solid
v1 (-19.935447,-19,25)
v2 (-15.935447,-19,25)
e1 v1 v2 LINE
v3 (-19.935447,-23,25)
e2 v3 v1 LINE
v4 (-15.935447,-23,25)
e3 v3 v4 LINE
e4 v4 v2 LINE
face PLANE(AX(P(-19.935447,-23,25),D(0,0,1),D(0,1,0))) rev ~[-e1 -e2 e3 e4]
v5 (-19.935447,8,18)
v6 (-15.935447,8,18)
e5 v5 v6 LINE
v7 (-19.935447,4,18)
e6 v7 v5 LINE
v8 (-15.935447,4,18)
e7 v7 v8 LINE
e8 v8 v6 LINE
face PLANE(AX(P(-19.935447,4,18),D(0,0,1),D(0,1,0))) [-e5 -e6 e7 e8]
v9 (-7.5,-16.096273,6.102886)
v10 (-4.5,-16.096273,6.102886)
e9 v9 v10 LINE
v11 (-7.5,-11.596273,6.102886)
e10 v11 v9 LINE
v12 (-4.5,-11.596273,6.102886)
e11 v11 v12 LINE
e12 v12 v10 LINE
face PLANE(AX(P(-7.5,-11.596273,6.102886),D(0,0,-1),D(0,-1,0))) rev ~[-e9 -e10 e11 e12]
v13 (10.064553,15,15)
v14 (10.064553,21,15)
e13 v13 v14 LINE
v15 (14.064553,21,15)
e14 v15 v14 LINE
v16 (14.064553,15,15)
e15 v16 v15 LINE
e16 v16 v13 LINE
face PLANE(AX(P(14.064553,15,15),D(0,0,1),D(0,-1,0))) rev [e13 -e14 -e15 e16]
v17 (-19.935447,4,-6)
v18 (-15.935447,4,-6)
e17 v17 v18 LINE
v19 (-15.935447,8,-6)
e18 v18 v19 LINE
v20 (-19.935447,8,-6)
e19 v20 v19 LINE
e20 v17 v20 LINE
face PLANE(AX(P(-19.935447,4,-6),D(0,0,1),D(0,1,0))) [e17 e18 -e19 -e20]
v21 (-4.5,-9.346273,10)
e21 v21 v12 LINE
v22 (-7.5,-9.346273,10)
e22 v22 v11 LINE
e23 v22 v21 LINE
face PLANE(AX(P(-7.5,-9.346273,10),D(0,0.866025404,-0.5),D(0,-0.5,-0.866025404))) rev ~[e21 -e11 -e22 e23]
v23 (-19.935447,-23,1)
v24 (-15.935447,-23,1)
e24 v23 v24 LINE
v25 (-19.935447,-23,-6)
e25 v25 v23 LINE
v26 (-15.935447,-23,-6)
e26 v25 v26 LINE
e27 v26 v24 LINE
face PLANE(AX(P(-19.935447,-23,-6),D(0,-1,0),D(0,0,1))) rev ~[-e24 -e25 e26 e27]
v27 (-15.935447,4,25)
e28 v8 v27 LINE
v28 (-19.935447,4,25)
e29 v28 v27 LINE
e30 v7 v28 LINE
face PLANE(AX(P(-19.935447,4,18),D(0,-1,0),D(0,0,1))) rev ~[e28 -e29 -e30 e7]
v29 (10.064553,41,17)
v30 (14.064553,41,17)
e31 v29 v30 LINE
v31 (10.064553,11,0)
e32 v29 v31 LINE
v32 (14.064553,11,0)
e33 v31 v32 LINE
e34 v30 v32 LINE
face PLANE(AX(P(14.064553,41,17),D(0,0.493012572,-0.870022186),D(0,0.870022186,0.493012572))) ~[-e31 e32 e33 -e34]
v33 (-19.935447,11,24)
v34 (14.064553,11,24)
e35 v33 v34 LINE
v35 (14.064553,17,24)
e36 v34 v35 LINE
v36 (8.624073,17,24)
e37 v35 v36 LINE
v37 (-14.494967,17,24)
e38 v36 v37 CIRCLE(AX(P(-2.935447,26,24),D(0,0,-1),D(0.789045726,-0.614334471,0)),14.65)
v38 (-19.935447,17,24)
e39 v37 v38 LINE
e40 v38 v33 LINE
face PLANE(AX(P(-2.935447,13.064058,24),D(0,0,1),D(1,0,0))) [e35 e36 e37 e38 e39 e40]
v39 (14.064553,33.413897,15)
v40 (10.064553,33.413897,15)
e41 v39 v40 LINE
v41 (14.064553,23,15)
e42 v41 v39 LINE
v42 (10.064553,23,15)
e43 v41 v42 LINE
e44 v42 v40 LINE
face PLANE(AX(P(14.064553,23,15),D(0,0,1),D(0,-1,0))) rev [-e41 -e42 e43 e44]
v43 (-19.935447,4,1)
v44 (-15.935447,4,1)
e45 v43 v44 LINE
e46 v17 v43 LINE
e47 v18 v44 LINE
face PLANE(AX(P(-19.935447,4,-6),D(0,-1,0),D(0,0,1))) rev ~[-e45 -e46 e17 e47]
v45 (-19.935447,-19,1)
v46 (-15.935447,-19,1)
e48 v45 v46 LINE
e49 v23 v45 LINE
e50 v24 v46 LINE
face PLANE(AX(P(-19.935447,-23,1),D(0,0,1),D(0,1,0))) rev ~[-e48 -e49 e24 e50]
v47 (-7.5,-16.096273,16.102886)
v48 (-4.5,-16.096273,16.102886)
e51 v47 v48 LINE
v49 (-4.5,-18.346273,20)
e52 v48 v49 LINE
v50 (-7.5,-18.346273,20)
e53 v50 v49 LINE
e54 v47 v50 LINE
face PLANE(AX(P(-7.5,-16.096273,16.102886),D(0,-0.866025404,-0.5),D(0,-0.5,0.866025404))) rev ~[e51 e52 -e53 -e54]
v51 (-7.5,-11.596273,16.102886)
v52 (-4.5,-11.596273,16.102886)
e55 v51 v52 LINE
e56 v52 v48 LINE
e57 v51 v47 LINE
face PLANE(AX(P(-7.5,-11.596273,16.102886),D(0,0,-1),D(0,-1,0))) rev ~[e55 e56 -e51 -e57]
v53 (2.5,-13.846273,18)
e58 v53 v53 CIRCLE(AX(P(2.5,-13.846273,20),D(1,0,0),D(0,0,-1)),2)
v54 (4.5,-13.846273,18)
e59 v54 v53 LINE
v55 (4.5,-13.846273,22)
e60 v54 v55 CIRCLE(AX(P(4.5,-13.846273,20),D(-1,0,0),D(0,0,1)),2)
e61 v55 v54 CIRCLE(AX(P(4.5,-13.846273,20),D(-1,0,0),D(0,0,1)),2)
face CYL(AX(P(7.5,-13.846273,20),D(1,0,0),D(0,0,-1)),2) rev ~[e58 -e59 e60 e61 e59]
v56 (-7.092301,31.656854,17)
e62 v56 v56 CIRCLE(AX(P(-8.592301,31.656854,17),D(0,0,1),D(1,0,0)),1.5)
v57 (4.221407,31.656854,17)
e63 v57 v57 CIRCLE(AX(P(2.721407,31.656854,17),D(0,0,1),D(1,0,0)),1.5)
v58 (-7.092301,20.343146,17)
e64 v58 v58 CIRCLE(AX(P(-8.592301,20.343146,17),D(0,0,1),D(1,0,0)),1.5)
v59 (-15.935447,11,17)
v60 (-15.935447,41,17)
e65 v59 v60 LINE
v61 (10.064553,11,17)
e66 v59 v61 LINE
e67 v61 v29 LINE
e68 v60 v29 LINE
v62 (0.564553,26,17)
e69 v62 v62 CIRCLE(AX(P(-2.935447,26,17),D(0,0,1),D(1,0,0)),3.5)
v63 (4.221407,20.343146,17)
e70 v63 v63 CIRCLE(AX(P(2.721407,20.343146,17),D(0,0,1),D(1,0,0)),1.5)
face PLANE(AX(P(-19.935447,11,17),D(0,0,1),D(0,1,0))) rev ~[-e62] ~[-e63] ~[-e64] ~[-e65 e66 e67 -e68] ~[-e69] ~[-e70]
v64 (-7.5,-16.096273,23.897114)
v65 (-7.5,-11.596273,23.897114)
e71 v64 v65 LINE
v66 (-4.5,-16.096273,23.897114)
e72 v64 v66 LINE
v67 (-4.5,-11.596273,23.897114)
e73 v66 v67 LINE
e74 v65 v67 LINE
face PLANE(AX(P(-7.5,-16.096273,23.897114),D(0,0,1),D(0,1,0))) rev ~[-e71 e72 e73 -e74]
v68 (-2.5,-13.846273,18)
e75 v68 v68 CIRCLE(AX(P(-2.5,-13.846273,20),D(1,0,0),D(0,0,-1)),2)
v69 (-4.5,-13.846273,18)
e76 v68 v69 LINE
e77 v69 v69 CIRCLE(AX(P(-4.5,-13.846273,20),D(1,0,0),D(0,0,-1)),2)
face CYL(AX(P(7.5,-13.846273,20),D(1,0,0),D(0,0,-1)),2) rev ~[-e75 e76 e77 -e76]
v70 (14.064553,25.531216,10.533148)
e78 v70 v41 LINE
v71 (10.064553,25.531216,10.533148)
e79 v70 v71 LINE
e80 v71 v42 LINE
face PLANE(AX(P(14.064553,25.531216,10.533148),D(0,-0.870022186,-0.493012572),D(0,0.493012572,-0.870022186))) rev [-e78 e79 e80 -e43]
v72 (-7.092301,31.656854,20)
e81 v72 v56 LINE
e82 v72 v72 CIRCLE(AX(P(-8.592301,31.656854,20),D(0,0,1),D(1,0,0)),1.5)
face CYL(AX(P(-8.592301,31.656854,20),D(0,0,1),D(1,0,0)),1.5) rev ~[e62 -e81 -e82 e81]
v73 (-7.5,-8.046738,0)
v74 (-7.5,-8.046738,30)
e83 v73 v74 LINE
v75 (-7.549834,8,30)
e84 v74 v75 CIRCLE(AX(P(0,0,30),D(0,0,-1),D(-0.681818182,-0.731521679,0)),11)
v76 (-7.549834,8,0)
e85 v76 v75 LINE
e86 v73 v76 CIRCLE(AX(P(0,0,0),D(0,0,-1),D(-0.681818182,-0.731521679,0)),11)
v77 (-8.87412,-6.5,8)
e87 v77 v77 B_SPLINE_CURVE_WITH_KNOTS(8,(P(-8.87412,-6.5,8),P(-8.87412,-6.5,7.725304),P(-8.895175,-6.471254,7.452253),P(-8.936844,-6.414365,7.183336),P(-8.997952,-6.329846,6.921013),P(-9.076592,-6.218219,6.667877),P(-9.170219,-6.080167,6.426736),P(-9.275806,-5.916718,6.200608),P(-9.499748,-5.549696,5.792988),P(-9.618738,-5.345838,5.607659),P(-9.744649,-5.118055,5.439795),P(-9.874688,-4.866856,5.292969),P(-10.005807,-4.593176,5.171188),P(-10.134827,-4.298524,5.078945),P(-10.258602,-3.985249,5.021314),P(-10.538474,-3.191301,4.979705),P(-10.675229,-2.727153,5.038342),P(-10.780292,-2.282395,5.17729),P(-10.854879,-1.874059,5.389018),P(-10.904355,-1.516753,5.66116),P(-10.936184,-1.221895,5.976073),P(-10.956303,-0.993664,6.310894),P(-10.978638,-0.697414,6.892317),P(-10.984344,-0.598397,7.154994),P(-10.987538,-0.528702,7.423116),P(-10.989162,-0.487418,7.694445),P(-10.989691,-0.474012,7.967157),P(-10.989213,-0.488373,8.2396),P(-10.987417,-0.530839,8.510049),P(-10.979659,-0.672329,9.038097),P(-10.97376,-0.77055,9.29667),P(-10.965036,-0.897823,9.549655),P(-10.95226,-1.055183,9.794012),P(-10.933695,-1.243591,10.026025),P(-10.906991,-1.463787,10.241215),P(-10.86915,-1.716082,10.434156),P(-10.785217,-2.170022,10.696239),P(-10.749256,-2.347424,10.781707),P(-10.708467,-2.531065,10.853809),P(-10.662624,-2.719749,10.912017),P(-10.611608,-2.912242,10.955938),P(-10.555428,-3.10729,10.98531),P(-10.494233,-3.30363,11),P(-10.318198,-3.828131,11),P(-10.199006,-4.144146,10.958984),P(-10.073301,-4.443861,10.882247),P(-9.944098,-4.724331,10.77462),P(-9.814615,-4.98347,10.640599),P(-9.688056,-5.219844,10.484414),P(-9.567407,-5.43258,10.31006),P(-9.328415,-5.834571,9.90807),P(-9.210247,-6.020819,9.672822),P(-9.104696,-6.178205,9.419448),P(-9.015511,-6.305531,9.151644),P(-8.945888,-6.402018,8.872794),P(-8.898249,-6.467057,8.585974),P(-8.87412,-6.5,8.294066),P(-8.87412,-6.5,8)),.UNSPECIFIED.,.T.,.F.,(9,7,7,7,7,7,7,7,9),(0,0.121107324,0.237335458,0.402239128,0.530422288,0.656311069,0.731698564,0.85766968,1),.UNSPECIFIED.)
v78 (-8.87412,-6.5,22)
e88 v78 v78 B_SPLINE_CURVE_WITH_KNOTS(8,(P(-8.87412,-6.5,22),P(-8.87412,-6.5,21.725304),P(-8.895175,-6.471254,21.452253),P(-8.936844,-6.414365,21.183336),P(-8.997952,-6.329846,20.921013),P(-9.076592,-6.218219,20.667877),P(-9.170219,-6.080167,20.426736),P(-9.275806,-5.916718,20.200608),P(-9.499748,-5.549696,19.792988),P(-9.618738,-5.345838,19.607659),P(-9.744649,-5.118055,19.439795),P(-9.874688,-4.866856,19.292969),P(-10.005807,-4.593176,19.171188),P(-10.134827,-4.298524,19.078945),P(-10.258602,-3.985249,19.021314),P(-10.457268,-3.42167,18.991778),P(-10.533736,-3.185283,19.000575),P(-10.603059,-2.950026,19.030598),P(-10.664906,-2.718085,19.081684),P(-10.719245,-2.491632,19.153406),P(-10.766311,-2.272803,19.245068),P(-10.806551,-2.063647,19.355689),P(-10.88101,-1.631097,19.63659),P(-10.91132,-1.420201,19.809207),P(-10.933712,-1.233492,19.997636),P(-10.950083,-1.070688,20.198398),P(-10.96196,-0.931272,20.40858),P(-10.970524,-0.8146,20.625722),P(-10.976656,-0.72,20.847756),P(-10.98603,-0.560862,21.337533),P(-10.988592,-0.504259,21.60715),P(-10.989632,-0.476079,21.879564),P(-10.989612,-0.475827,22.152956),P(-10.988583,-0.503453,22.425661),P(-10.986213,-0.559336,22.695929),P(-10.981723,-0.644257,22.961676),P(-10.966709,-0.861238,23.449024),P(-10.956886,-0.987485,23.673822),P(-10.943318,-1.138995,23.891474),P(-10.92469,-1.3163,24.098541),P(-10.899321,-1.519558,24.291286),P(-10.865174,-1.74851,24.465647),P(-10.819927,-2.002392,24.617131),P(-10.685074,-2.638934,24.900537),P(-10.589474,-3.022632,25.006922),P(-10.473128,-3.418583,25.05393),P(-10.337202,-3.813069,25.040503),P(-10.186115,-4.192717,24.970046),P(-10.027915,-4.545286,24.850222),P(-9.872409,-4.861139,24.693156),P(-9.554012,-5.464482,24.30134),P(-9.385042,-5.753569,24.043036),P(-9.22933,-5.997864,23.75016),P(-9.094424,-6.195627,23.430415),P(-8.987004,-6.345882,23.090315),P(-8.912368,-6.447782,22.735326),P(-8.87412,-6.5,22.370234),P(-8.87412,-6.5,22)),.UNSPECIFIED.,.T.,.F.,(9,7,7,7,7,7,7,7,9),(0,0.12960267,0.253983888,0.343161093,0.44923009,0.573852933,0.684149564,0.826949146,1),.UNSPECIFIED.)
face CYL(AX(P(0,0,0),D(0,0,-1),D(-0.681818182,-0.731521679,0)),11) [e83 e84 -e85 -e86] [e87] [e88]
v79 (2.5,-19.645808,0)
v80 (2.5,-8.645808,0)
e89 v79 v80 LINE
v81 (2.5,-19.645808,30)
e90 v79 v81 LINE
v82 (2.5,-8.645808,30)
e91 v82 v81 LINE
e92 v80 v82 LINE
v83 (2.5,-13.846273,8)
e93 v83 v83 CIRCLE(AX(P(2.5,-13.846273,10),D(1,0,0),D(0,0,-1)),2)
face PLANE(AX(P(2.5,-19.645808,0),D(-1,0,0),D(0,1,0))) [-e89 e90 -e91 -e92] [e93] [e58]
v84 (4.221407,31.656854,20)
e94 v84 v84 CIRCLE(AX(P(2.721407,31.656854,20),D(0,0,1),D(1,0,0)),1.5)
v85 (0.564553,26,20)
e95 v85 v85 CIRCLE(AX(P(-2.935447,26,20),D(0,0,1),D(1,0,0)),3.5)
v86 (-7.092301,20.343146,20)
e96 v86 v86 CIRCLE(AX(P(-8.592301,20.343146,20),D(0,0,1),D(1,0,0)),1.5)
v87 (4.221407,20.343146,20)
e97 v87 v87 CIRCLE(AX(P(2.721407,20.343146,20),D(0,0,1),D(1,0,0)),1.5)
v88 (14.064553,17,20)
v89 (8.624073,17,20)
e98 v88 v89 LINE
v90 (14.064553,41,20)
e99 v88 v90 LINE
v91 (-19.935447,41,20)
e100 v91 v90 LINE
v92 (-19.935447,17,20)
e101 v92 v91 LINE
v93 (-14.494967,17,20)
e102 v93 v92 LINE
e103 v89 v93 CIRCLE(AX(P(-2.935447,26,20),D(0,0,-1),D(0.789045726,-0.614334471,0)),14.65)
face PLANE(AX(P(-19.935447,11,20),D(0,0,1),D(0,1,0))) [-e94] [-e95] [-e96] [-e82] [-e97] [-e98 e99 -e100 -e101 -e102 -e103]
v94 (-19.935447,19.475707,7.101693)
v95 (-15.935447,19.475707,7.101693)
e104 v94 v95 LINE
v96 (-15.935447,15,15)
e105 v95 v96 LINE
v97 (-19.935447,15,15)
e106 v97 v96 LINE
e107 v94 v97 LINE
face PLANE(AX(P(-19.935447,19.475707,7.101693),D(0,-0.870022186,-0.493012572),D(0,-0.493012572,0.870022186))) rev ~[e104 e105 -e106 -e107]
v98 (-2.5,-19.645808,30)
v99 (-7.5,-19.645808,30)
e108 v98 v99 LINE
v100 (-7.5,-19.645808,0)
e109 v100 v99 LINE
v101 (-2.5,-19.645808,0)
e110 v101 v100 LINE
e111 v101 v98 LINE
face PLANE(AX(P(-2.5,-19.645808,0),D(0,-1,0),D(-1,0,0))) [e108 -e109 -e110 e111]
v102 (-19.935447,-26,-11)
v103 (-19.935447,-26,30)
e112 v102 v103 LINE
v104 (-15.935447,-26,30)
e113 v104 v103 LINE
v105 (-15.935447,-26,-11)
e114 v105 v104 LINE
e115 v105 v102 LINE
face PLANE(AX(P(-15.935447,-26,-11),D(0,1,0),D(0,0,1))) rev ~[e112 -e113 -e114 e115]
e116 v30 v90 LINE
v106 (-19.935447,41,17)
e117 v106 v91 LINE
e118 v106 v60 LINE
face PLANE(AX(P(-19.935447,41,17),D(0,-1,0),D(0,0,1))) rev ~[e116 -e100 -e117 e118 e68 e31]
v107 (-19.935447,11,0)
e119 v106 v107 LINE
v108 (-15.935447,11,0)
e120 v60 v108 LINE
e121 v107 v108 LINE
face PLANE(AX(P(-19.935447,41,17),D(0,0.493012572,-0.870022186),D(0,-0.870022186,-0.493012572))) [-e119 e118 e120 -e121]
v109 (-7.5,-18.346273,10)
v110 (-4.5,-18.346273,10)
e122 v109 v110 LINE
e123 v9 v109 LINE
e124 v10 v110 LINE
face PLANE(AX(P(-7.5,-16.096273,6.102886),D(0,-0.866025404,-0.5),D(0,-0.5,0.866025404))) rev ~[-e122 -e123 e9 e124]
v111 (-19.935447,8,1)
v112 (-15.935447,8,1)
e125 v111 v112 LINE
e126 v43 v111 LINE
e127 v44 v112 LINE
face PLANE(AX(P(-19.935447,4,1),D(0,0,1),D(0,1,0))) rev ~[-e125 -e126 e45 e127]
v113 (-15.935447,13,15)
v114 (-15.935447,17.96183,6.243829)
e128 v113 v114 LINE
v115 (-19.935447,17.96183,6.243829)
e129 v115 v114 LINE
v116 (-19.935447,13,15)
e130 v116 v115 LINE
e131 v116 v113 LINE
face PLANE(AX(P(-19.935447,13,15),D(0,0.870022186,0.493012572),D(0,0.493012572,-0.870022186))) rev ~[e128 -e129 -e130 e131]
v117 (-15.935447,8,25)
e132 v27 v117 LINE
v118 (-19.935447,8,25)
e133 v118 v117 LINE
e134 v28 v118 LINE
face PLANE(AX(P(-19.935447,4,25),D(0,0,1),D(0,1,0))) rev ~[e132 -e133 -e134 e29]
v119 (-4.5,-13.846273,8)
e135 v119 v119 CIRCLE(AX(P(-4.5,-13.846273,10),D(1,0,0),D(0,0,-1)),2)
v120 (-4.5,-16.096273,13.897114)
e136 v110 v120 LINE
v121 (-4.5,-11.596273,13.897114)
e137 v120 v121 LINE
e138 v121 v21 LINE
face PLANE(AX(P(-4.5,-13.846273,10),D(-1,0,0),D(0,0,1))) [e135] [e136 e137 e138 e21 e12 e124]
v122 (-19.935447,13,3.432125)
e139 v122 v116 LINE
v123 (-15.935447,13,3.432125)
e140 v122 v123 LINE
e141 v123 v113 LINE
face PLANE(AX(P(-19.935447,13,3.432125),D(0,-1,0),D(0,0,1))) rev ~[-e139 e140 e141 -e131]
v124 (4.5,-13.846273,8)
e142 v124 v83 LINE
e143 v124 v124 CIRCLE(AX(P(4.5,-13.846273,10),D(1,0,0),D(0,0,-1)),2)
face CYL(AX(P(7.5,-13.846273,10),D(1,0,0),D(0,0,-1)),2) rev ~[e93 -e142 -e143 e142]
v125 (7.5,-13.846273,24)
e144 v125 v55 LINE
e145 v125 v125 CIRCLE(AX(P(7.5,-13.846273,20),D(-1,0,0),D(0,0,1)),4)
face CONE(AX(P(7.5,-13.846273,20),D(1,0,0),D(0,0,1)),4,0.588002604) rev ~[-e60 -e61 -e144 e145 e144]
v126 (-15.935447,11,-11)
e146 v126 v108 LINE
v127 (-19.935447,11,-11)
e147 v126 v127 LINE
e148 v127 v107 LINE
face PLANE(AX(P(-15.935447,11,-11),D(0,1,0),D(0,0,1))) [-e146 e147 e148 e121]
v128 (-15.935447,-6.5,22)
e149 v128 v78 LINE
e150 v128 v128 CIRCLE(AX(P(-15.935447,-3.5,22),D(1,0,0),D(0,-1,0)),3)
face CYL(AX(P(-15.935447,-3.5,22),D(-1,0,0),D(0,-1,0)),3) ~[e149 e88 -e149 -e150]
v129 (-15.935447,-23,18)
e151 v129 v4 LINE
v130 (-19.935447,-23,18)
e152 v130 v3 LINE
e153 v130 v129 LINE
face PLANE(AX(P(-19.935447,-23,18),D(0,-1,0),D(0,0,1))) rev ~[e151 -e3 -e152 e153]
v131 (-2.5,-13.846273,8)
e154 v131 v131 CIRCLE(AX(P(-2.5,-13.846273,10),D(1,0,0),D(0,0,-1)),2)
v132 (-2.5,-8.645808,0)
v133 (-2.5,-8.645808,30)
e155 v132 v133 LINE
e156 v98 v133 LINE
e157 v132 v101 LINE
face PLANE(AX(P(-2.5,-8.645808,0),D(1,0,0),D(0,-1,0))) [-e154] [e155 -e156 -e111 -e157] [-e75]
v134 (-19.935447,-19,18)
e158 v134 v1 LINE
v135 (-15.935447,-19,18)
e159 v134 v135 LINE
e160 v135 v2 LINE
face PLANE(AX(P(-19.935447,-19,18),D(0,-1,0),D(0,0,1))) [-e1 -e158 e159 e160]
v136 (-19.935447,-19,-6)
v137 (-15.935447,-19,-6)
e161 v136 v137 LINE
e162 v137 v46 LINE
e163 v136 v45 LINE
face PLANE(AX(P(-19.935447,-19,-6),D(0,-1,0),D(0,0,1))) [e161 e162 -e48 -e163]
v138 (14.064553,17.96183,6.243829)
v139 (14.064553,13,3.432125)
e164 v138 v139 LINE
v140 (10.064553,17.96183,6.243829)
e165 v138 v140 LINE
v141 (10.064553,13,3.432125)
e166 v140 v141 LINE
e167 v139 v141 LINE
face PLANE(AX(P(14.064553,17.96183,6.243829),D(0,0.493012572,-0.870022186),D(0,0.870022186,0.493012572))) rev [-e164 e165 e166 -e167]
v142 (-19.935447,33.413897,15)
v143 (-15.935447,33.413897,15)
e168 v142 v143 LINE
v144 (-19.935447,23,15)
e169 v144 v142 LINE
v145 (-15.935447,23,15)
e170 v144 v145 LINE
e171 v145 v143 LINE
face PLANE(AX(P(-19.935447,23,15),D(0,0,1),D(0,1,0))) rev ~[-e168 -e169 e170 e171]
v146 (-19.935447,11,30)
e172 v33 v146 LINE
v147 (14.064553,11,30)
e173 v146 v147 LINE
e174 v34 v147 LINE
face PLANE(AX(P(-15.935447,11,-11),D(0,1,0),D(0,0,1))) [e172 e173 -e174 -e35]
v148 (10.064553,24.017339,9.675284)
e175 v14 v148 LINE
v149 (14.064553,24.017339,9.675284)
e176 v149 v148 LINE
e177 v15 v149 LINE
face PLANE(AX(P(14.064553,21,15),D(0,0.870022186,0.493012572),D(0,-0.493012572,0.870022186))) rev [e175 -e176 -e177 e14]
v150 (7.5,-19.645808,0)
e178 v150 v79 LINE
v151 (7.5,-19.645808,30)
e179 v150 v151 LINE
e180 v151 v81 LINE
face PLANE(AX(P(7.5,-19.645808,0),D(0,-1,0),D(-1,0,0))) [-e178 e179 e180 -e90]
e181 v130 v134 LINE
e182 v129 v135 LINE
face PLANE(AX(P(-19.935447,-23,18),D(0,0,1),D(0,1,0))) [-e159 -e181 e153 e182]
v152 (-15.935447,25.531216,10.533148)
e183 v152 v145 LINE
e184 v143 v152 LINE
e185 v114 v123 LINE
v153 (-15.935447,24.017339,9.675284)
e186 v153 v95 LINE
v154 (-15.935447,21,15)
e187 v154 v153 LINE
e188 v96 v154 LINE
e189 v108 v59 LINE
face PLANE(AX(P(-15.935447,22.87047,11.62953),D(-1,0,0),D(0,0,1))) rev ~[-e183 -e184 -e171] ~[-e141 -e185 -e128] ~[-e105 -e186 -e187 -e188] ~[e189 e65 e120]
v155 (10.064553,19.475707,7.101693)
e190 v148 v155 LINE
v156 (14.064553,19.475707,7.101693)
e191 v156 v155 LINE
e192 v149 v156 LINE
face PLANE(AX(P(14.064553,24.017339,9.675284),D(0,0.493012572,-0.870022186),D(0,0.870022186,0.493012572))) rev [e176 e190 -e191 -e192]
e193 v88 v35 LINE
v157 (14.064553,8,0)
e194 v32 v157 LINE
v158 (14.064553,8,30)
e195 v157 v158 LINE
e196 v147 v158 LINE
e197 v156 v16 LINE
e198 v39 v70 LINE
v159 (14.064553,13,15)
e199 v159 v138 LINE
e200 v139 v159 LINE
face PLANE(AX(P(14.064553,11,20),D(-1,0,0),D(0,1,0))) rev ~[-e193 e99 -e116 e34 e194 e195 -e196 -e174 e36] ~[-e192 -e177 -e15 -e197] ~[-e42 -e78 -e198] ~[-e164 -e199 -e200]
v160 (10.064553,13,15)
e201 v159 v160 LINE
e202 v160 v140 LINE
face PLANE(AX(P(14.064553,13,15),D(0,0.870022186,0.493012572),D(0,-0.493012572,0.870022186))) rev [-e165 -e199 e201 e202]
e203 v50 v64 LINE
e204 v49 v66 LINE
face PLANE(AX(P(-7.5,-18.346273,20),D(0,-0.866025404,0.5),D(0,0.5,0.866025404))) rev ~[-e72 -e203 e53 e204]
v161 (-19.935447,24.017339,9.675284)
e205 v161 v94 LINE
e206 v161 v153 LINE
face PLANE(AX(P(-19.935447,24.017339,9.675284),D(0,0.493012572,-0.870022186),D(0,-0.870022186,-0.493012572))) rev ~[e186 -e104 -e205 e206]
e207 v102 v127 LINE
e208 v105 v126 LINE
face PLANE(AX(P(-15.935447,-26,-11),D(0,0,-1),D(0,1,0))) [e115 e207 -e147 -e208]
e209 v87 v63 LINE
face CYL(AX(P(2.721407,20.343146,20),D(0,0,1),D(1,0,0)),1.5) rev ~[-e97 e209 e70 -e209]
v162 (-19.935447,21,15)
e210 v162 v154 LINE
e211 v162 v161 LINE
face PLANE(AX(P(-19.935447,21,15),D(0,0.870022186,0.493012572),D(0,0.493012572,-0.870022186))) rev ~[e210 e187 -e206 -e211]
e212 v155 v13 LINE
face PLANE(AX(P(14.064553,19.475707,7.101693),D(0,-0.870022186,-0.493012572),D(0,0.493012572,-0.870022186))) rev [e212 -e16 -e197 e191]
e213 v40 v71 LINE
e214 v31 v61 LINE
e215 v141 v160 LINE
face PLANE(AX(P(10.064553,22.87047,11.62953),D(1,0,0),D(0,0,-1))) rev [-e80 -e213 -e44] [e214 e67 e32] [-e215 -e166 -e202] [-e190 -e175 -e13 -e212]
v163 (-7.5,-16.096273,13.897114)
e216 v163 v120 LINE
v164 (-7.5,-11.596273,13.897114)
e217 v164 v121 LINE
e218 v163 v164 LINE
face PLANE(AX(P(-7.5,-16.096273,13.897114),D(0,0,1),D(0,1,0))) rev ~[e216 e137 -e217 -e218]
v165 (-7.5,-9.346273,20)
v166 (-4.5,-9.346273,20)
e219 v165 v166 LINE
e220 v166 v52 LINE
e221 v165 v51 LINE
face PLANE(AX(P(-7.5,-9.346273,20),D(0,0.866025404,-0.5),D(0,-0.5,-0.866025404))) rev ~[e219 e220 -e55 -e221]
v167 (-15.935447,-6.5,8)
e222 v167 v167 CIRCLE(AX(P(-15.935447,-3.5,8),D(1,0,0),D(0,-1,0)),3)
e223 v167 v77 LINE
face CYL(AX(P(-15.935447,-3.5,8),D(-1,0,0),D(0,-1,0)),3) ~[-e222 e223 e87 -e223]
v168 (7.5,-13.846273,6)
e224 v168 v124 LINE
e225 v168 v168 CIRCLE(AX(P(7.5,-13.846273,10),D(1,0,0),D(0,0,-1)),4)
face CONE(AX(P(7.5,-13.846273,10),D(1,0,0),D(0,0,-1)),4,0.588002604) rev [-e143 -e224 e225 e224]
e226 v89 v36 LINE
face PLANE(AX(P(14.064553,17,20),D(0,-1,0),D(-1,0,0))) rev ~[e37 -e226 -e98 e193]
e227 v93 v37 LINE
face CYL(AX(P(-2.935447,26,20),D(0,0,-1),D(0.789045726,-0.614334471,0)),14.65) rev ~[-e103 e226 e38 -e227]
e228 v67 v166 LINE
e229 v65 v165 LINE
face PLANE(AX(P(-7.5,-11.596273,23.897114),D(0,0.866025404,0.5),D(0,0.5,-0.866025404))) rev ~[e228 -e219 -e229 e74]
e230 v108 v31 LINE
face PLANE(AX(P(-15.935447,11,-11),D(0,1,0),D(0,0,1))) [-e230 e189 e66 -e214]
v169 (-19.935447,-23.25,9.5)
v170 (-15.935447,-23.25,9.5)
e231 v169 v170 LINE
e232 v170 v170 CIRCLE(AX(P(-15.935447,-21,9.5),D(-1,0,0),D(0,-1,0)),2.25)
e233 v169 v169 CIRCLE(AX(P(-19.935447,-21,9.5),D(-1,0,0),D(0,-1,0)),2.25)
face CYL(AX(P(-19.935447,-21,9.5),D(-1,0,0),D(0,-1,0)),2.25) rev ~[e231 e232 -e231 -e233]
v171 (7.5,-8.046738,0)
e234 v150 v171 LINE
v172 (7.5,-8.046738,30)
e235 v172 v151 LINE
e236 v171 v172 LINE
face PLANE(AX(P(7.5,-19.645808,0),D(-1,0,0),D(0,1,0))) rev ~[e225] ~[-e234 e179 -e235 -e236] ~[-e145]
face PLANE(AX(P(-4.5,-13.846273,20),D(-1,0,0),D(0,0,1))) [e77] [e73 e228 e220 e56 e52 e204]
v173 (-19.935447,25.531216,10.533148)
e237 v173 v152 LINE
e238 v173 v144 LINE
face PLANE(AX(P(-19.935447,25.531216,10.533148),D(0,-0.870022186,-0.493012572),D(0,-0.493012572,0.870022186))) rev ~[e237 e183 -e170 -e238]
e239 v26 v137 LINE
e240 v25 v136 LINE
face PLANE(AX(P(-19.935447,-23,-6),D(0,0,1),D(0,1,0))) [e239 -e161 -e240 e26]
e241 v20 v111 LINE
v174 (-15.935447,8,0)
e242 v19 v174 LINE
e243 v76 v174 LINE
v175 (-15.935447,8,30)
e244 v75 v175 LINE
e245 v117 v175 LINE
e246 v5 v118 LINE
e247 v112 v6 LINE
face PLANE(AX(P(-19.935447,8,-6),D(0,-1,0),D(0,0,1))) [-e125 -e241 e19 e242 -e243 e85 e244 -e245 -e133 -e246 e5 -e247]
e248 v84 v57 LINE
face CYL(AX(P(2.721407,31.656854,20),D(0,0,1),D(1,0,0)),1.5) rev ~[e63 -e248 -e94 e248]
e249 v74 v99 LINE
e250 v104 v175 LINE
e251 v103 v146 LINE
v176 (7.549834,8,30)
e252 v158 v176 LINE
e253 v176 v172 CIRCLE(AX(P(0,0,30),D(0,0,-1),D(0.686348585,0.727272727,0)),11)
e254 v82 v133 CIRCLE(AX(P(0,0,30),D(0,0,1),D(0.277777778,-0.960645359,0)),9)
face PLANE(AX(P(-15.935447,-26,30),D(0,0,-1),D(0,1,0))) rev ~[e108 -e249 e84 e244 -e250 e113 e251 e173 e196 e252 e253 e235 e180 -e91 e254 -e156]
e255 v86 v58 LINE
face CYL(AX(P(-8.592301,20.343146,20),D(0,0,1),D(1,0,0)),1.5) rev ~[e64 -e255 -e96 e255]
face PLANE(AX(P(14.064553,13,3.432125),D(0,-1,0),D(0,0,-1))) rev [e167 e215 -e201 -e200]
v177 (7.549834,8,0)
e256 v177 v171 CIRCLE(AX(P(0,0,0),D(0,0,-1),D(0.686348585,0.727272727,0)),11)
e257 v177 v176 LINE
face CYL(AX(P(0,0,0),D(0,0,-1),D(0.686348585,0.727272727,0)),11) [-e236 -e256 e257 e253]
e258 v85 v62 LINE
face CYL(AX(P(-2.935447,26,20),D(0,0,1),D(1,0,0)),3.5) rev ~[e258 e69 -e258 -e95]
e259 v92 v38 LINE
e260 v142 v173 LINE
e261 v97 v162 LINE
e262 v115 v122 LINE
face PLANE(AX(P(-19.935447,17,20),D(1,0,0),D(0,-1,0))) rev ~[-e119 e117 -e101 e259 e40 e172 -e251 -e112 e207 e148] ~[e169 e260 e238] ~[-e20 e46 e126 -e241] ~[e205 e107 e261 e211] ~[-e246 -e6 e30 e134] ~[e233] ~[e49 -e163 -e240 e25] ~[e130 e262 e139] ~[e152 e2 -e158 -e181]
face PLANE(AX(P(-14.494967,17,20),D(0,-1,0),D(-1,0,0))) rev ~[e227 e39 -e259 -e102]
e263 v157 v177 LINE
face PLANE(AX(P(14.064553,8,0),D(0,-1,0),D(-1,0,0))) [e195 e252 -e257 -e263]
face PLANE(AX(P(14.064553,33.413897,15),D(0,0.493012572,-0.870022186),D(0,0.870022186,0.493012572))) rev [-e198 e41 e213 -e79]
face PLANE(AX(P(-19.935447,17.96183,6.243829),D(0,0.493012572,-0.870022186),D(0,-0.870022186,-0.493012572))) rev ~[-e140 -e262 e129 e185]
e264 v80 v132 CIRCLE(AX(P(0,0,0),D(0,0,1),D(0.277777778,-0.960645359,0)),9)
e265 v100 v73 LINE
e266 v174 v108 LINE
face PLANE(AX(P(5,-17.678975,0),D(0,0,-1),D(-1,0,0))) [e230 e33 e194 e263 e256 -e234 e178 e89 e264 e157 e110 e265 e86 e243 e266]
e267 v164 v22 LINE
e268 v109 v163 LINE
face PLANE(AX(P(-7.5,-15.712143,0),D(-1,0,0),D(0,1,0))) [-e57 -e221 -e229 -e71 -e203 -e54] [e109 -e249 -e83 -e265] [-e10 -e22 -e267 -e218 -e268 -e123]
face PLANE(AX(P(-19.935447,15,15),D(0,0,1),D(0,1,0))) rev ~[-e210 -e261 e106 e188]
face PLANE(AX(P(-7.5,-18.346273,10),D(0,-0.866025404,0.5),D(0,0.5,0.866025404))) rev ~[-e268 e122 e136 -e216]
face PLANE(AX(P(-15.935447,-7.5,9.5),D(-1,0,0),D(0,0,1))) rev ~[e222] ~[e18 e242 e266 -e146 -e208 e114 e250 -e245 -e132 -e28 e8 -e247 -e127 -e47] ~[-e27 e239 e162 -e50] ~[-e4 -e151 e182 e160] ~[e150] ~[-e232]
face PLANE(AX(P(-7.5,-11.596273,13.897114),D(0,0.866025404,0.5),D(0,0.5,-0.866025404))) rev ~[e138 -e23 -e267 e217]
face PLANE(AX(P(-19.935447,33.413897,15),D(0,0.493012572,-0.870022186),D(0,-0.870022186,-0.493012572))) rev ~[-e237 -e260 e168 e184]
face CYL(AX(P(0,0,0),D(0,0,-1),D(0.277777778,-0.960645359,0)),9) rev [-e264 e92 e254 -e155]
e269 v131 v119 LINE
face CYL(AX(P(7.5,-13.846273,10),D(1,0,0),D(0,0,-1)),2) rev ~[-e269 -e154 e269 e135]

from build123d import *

# Parameters (mm, degrees)
SUPPORTOMOTORE_DEPTH       = 30
SCHIZZO22_W                = 5
SCHIZZO22_H                = 3.93366559
ESTENSIONEBASEVITI_DEPTH   = 30
SCHIZZO12_W                = 41
SCHIZZO12_H                = 37
SUPPORTOESC_DEPTH          = 4
SCHIZZO13_W                = 7
SCHIZZO13_H                = 4
FORIFASCETTA_DEPTH         = 4
PILASTRINIESC_REACH        = 51.759
PILASTRINIESC_END_RADIUS   = 11
SCHIZZO14_R                = 3
SCHIZZO15_W                = 3
SCHIZZO15_H                = 30
BASEMOTORE_DEPTH           = 34
SCHIZZO16_R                = 1.5
SCHIZZO16_R_2              = 3.5
FORIMOTORE_DEPTH           = 3
CONTROVENTODESTRO_DEPTH    = 4
SUPPORTOBASEMOTORE_DEPTH   = 4
FORIVITIAGGANCI_REACH      = 59.738
SCHIZZO20_R                = 2
FORODADO_DEPTH             = 3
FOROTIRANTEANTERIORE_REACH = 63.131
SCHIZZO24_R                = 2.25


with BuildPart() as part:
    # Schizzo1 → SupportoMotore (new body)
    with BuildSketch(Plane.XY):
        with BuildLine():
            Line((-2.5, -10.712142643), (-2.5, -15.712142643))
            Line((-2.5, -15.712142643), (-7.5, -15.712142643))
            Line((-7.5, -15.712142643), (-7.5, -8.04673847))
            ThreePointArc((-7.5, -8.04673847), (-10.999946955, -0.034161219), (-7.549834435, 8))
            Line((-7.549834435, 8), (-15.935446939, 8))
            Line((-15.935446939, 8), (-15.935446939, 11))
            Line((-15.935446939, 11), (14.064553061, 11))
            Line((14.064553061, 11), (14.064553061, 8))
            Line((14.064553061, 8), (7.549834435, 8))
            ThreePointArc((7.549834435, 8), (10.999946955, -0.034161219), (7.5, -8.04673847))
            Line((7.5, -8.04673847), (7.5, -15.712142643))
            Line((7.5, -15.712142643), (2.5, -15.712142643))
            Line((2.5, -15.712142643), (2.5, -10.712142643))
            Line((2.5, -10.712142643), (2.5, -8.645808233))
            ThreePointArc((2.5, -8.645808233), (0, 9), (-2.5, -8.645808233))
            Line((-2.5, -8.645808233), (-2.5, -10.712142643))
        make_face()
    extrude(amount=SUPPORTOMOTORE_DEPTH)

    # Schizzo22 → EstensioneBaseViti (add)
    with BuildSketch(Plane(origin=(0, 0, 0), x_dir=(-1, 0, 0), z_dir=(0, 0, -1))):
        with Locations((-5, -17.678975438)):
            Rectangle(SCHIZZO22_W, SCHIZZO22_H)
        with Locations((5, -17.678975438)):
            Rectangle(SCHIZZO22_W, SCHIZZO22_H)
    extrude(amount=-ESTENSIONEBASEVITI_DEPTH)

    # Schizzo12 → SupportoESC (add)
    with BuildSketch(Plane.ZY.offset(15.935446939)):
        with Locations((9.5, -7.5)):
            Rectangle(SCHIZZO12_W, SCHIZZO12_H)
    extrude(amount=SUPPORTOESC_DEPTH)

    # Schizzo13 → ForiFascetta (cut)
    with BuildSketch(Plane.ZY.offset(19.935446939)):
        with Locations((-2.5, 6)):
            Rectangle(SCHIZZO13_W, SCHIZZO13_H)
        with Locations((21.5, 6)):
            Rectangle(SCHIZZO13_W, SCHIZZO13_H)
        with Locations((21.5, -21)):
            Rectangle(SCHIZZO13_W, SCHIZZO13_H)
        with Locations((-2.5, -21)):
            Rectangle(SCHIZZO13_W, SCHIZZO13_H)
    extrude(amount=-FORIFASCETTA_DEPTH, mode=Mode.SUBTRACT)

    # PilastriniESC: up to this cylinder (the profile starts outside it)
    pilastriniesc_end = Plane(origin=(0, 0, 15), z_dir=(0, 0, -1)) * Cylinder(PILASTRINIESC_END_RADIUS, 140.518, mode=Mode.PRIVATE)
    # Schizzo14 → PilastriniESC (add, up to the surface)
    with BuildSketch(Plane(origin=(-15.935446939, 0, 0), x_dir=(0, 0, -1), z_dir=(1, 0, 0)), mode=Mode.PRIVATE) as pilastriniesc_sk1:
        with Locations(Location((-8, -3.5, 0), (0, 0, 270))):
            Circle(SCHIZZO14_R)
    pilastriniesc_tool1 = extrude(pilastriniesc_sk1.sketch, amount=PILASTRINIESC_REACH, mode=Mode.PRIVATE) - pilastriniesc_end
    add(pilastriniesc_tool1.solids().sort_by_distance((-15.935447, -3.5, 8))[0])
    # Schizzo14 → PilastriniESC (add, up to the surface)
    with BuildSketch(Plane(origin=(-15.935446939, 0, 0), x_dir=(0, 0, -1), z_dir=(1, 0, 0)), mode=Mode.PRIVATE) as pilastriniesc_sk2:
        with Locations(Location((-22, -3.5, 0), (0, 0, 270))):
            Circle(SCHIZZO14_R)
    pilastriniesc_tool2 = extrude(pilastriniesc_sk2.sketch, amount=PILASTRINIESC_REACH, mode=Mode.PRIVATE) - pilastriniesc_end
    add(pilastriniesc_tool2.solids().sort_by_distance((-15.935447, -3.5, 22))[0])

    # Schizzo15 → BaseMotore (add)
    with BuildSketch(Plane.ZY.offset(19.935446939)):
        with Locations((18.5, 26)):
            Rectangle(SCHIZZO15_W, SCHIZZO15_H)
    extrude(amount=-BASEMOTORE_DEPTH)

    # Schizzo16 → ForiMotore (cut)
    with BuildSketch(Plane.XY.offset(20)):
        with Locations((-8.592301188, 31.656854249)):
            Circle(SCHIZZO16_R)
        with Locations((2.721407311, 31.656854249)):
            Circle(SCHIZZO16_R)
        with Locations((2.721407311, 20.343145751)):
            Circle(SCHIZZO16_R)
        with Locations((-8.592301188, 20.343145751)):
            Circle(SCHIZZO16_R)
        with Locations((-2.935446939, 26)):
            Circle(SCHIZZO16_R_2)
    extrude(amount=-FORIMOTORE_DEPTH, mode=Mode.SUBTRACT)

    # Schizzo17 → ControventoDestro (add)
    with BuildSketch(Plane.ZY.offset(19.935446939)):
        Polygon((17, 41), (0, 11), (17, 11), align=None)
        Polygon((15, 15), (15, 21), (9.675284069, 24.017339028), (7.101692816, 19.475707404), align=None, mode=Mode.SUBTRACT)
        Polygon((15, 33.413896553), (10.53314782, 25.531216235), (15, 23), align=None, mode=Mode.SUBTRACT)
        Polygon((3.432125287, 13), (15, 13), (6.243829065, 17.961830197), align=None, mode=Mode.SUBTRACT)
    controventodestro = extrude(amount=-CONTROVENTODESTRO_DEPTH)

    # ControventoSinistro: ControventoDestro across plane
    add(controventodestro.mirror(Plane(origin=(-2.935446939, 0, 0), x_dir=(0, 0, 1), z_dir=(1, 0, 0))))

    # Schizzo19 → SupportoBaseMotore (add)
    with BuildSketch(Plane.XY.offset(20)):
        with BuildLine():
            Line((-19.935446939, 11), (14.064553061, 11))
            Line((14.064553061, 11), (14.064553061, 17))
            Line((14.064553061, 17), (8.624072947, 17))
            ThreePointArc((8.624072947, 17), (-2.935446939, 11.35), (-14.494966825, 17))
            Line((-14.494966825, 17), (-19.935446939, 17))
            Line((-19.935446939, 17), (-19.935446939, 11))
        make_face()
    extrude(amount=SUPPORTOBASEMOTORE_DEPTH)

    # ForiVitiAgganci: up to this face of the body (flat: up to its plane)
    forivitiagganci_end = Plane(part.part.faces().sort_by_distance((-7.5, -13.846273351, 15))[0])
    # Schizzo20 → ForiVitiAgganci (cut, up to the picked face)
    with BuildSketch(Plane(origin=(7.5, 0, 0), x_dir=(0, 0, -1), z_dir=(1, 0, 0)), mode=Mode.PRIVATE) as forivitiagganci_sk1:
        with Locations((-20, -13.846273351)):
            Circle(SCHIZZO20_R)
    forivitiagganci_tool1 = split(extrude(forivitiagganci_sk1.sketch, amount=-FORIVITIAGGANCI_REACH, mode=Mode.PRIVATE), bisect_by=forivitiagganci_end, keep=Keep.BOTH, mode=Mode.PRIVATE)
    # Schizzo20 → ForiVitiAgganci (cut, up to the picked face)
    with BuildSketch(Plane(origin=(7.5, 0, 0), x_dir=(0, 0, -1), z_dir=(1, 0, 0)), mode=Mode.PRIVATE) as forivitiagganci_sk2:
        with Locations((-10, -13.846273351)):
            Circle(SCHIZZO20_R)
    forivitiagganci_tool2 = split(extrude(forivitiagganci_sk2.sketch, amount=-FORIVITIAGGANCI_REACH, mode=Mode.PRIVATE), bisect_by=forivitiagganci_end, keep=Keep.BOTH, mode=Mode.PRIVATE)
    add(forivitiagganci_tool1.solids().sort_by(Axis((7.5, -13.846273, 20), (-1, 0, 0)))[0], mode=Mode.SUBTRACT)
    add(forivitiagganci_tool2.solids().sort_by(Axis((7.5, -13.846273, 10), (-1, 0, 0)))[0], mode=Mode.SUBTRACT)

    # Schizzo21 → SvasaturaViteDestra (revolve, cut)
    with BuildSketch(Plane.XY.offset(10), mode=Mode.PRIVATE) as svasaturavitedestra_sk:
        Polygon((7.5, -9.846273351), (4.5, -11.846273351), (4.5, -13.846273351), (7.5, -13.846273351), align=None)
    svasaturavitedestra = revolve(svasaturavitedestra_sk.sketch.rotate(Axis((4.5, -13.846273351, 10), (1, 0, 0)), 270), axis=Axis((4.5, -13.846273351, 10), (1, 0, 0)), mode=Mode.SUBTRACT)

    # SvasaturaViteSinistra: SvasaturaViteDestra across plane
    add(svasaturavitedestra.mirror(Plane.XY.offset(15)), mode=Mode.SUBTRACT)

    # Schizzo23 → ForoDado (cut)
    with BuildSketch(Plane.ZY.offset(7.5)):
        Polygon((6.102885683, -11.596273351), (6.102885683, -16.096273351), (10, -18.346273351), (13.897114317, -16.096273351), (13.897114317, -11.596273351), (10, -9.346273351), align=None)
        Polygon((16.102885683, -11.596273351), (16.102885683, -16.096273351), (20, -18.346273351), (23.897114317, -16.096273351), (23.897114317, -11.596273351), (20, -9.346273351), align=None)
    extrude(amount=-FORODADO_DEPTH, mode=Mode.SUBTRACT)

    # Schizzo24 → ForoTiranteAnteriore (cut, up to next)
    with BuildSketch(Plane.ZY.offset(19.935446939), mode=Mode.PRIVATE) as forotiranteanteriore_sk1:
        with Locations(Location((9.5, -21, 0), (0, 0, 270))):
            Circle(SCHIZZO24_R)
    forotiranteanteriore_tool1 = extrude(forotiranteanteriore_sk1.sketch, amount=-FOROTIRANTEANTERIORE_REACH, mode=Mode.PRIVATE) & part.part
    add(forotiranteanteriore_tool1.solids().sort_by_distance((-19.935447, -21, 9.5))[0], mode=Mode.SUBTRACT)


solid = part.part
